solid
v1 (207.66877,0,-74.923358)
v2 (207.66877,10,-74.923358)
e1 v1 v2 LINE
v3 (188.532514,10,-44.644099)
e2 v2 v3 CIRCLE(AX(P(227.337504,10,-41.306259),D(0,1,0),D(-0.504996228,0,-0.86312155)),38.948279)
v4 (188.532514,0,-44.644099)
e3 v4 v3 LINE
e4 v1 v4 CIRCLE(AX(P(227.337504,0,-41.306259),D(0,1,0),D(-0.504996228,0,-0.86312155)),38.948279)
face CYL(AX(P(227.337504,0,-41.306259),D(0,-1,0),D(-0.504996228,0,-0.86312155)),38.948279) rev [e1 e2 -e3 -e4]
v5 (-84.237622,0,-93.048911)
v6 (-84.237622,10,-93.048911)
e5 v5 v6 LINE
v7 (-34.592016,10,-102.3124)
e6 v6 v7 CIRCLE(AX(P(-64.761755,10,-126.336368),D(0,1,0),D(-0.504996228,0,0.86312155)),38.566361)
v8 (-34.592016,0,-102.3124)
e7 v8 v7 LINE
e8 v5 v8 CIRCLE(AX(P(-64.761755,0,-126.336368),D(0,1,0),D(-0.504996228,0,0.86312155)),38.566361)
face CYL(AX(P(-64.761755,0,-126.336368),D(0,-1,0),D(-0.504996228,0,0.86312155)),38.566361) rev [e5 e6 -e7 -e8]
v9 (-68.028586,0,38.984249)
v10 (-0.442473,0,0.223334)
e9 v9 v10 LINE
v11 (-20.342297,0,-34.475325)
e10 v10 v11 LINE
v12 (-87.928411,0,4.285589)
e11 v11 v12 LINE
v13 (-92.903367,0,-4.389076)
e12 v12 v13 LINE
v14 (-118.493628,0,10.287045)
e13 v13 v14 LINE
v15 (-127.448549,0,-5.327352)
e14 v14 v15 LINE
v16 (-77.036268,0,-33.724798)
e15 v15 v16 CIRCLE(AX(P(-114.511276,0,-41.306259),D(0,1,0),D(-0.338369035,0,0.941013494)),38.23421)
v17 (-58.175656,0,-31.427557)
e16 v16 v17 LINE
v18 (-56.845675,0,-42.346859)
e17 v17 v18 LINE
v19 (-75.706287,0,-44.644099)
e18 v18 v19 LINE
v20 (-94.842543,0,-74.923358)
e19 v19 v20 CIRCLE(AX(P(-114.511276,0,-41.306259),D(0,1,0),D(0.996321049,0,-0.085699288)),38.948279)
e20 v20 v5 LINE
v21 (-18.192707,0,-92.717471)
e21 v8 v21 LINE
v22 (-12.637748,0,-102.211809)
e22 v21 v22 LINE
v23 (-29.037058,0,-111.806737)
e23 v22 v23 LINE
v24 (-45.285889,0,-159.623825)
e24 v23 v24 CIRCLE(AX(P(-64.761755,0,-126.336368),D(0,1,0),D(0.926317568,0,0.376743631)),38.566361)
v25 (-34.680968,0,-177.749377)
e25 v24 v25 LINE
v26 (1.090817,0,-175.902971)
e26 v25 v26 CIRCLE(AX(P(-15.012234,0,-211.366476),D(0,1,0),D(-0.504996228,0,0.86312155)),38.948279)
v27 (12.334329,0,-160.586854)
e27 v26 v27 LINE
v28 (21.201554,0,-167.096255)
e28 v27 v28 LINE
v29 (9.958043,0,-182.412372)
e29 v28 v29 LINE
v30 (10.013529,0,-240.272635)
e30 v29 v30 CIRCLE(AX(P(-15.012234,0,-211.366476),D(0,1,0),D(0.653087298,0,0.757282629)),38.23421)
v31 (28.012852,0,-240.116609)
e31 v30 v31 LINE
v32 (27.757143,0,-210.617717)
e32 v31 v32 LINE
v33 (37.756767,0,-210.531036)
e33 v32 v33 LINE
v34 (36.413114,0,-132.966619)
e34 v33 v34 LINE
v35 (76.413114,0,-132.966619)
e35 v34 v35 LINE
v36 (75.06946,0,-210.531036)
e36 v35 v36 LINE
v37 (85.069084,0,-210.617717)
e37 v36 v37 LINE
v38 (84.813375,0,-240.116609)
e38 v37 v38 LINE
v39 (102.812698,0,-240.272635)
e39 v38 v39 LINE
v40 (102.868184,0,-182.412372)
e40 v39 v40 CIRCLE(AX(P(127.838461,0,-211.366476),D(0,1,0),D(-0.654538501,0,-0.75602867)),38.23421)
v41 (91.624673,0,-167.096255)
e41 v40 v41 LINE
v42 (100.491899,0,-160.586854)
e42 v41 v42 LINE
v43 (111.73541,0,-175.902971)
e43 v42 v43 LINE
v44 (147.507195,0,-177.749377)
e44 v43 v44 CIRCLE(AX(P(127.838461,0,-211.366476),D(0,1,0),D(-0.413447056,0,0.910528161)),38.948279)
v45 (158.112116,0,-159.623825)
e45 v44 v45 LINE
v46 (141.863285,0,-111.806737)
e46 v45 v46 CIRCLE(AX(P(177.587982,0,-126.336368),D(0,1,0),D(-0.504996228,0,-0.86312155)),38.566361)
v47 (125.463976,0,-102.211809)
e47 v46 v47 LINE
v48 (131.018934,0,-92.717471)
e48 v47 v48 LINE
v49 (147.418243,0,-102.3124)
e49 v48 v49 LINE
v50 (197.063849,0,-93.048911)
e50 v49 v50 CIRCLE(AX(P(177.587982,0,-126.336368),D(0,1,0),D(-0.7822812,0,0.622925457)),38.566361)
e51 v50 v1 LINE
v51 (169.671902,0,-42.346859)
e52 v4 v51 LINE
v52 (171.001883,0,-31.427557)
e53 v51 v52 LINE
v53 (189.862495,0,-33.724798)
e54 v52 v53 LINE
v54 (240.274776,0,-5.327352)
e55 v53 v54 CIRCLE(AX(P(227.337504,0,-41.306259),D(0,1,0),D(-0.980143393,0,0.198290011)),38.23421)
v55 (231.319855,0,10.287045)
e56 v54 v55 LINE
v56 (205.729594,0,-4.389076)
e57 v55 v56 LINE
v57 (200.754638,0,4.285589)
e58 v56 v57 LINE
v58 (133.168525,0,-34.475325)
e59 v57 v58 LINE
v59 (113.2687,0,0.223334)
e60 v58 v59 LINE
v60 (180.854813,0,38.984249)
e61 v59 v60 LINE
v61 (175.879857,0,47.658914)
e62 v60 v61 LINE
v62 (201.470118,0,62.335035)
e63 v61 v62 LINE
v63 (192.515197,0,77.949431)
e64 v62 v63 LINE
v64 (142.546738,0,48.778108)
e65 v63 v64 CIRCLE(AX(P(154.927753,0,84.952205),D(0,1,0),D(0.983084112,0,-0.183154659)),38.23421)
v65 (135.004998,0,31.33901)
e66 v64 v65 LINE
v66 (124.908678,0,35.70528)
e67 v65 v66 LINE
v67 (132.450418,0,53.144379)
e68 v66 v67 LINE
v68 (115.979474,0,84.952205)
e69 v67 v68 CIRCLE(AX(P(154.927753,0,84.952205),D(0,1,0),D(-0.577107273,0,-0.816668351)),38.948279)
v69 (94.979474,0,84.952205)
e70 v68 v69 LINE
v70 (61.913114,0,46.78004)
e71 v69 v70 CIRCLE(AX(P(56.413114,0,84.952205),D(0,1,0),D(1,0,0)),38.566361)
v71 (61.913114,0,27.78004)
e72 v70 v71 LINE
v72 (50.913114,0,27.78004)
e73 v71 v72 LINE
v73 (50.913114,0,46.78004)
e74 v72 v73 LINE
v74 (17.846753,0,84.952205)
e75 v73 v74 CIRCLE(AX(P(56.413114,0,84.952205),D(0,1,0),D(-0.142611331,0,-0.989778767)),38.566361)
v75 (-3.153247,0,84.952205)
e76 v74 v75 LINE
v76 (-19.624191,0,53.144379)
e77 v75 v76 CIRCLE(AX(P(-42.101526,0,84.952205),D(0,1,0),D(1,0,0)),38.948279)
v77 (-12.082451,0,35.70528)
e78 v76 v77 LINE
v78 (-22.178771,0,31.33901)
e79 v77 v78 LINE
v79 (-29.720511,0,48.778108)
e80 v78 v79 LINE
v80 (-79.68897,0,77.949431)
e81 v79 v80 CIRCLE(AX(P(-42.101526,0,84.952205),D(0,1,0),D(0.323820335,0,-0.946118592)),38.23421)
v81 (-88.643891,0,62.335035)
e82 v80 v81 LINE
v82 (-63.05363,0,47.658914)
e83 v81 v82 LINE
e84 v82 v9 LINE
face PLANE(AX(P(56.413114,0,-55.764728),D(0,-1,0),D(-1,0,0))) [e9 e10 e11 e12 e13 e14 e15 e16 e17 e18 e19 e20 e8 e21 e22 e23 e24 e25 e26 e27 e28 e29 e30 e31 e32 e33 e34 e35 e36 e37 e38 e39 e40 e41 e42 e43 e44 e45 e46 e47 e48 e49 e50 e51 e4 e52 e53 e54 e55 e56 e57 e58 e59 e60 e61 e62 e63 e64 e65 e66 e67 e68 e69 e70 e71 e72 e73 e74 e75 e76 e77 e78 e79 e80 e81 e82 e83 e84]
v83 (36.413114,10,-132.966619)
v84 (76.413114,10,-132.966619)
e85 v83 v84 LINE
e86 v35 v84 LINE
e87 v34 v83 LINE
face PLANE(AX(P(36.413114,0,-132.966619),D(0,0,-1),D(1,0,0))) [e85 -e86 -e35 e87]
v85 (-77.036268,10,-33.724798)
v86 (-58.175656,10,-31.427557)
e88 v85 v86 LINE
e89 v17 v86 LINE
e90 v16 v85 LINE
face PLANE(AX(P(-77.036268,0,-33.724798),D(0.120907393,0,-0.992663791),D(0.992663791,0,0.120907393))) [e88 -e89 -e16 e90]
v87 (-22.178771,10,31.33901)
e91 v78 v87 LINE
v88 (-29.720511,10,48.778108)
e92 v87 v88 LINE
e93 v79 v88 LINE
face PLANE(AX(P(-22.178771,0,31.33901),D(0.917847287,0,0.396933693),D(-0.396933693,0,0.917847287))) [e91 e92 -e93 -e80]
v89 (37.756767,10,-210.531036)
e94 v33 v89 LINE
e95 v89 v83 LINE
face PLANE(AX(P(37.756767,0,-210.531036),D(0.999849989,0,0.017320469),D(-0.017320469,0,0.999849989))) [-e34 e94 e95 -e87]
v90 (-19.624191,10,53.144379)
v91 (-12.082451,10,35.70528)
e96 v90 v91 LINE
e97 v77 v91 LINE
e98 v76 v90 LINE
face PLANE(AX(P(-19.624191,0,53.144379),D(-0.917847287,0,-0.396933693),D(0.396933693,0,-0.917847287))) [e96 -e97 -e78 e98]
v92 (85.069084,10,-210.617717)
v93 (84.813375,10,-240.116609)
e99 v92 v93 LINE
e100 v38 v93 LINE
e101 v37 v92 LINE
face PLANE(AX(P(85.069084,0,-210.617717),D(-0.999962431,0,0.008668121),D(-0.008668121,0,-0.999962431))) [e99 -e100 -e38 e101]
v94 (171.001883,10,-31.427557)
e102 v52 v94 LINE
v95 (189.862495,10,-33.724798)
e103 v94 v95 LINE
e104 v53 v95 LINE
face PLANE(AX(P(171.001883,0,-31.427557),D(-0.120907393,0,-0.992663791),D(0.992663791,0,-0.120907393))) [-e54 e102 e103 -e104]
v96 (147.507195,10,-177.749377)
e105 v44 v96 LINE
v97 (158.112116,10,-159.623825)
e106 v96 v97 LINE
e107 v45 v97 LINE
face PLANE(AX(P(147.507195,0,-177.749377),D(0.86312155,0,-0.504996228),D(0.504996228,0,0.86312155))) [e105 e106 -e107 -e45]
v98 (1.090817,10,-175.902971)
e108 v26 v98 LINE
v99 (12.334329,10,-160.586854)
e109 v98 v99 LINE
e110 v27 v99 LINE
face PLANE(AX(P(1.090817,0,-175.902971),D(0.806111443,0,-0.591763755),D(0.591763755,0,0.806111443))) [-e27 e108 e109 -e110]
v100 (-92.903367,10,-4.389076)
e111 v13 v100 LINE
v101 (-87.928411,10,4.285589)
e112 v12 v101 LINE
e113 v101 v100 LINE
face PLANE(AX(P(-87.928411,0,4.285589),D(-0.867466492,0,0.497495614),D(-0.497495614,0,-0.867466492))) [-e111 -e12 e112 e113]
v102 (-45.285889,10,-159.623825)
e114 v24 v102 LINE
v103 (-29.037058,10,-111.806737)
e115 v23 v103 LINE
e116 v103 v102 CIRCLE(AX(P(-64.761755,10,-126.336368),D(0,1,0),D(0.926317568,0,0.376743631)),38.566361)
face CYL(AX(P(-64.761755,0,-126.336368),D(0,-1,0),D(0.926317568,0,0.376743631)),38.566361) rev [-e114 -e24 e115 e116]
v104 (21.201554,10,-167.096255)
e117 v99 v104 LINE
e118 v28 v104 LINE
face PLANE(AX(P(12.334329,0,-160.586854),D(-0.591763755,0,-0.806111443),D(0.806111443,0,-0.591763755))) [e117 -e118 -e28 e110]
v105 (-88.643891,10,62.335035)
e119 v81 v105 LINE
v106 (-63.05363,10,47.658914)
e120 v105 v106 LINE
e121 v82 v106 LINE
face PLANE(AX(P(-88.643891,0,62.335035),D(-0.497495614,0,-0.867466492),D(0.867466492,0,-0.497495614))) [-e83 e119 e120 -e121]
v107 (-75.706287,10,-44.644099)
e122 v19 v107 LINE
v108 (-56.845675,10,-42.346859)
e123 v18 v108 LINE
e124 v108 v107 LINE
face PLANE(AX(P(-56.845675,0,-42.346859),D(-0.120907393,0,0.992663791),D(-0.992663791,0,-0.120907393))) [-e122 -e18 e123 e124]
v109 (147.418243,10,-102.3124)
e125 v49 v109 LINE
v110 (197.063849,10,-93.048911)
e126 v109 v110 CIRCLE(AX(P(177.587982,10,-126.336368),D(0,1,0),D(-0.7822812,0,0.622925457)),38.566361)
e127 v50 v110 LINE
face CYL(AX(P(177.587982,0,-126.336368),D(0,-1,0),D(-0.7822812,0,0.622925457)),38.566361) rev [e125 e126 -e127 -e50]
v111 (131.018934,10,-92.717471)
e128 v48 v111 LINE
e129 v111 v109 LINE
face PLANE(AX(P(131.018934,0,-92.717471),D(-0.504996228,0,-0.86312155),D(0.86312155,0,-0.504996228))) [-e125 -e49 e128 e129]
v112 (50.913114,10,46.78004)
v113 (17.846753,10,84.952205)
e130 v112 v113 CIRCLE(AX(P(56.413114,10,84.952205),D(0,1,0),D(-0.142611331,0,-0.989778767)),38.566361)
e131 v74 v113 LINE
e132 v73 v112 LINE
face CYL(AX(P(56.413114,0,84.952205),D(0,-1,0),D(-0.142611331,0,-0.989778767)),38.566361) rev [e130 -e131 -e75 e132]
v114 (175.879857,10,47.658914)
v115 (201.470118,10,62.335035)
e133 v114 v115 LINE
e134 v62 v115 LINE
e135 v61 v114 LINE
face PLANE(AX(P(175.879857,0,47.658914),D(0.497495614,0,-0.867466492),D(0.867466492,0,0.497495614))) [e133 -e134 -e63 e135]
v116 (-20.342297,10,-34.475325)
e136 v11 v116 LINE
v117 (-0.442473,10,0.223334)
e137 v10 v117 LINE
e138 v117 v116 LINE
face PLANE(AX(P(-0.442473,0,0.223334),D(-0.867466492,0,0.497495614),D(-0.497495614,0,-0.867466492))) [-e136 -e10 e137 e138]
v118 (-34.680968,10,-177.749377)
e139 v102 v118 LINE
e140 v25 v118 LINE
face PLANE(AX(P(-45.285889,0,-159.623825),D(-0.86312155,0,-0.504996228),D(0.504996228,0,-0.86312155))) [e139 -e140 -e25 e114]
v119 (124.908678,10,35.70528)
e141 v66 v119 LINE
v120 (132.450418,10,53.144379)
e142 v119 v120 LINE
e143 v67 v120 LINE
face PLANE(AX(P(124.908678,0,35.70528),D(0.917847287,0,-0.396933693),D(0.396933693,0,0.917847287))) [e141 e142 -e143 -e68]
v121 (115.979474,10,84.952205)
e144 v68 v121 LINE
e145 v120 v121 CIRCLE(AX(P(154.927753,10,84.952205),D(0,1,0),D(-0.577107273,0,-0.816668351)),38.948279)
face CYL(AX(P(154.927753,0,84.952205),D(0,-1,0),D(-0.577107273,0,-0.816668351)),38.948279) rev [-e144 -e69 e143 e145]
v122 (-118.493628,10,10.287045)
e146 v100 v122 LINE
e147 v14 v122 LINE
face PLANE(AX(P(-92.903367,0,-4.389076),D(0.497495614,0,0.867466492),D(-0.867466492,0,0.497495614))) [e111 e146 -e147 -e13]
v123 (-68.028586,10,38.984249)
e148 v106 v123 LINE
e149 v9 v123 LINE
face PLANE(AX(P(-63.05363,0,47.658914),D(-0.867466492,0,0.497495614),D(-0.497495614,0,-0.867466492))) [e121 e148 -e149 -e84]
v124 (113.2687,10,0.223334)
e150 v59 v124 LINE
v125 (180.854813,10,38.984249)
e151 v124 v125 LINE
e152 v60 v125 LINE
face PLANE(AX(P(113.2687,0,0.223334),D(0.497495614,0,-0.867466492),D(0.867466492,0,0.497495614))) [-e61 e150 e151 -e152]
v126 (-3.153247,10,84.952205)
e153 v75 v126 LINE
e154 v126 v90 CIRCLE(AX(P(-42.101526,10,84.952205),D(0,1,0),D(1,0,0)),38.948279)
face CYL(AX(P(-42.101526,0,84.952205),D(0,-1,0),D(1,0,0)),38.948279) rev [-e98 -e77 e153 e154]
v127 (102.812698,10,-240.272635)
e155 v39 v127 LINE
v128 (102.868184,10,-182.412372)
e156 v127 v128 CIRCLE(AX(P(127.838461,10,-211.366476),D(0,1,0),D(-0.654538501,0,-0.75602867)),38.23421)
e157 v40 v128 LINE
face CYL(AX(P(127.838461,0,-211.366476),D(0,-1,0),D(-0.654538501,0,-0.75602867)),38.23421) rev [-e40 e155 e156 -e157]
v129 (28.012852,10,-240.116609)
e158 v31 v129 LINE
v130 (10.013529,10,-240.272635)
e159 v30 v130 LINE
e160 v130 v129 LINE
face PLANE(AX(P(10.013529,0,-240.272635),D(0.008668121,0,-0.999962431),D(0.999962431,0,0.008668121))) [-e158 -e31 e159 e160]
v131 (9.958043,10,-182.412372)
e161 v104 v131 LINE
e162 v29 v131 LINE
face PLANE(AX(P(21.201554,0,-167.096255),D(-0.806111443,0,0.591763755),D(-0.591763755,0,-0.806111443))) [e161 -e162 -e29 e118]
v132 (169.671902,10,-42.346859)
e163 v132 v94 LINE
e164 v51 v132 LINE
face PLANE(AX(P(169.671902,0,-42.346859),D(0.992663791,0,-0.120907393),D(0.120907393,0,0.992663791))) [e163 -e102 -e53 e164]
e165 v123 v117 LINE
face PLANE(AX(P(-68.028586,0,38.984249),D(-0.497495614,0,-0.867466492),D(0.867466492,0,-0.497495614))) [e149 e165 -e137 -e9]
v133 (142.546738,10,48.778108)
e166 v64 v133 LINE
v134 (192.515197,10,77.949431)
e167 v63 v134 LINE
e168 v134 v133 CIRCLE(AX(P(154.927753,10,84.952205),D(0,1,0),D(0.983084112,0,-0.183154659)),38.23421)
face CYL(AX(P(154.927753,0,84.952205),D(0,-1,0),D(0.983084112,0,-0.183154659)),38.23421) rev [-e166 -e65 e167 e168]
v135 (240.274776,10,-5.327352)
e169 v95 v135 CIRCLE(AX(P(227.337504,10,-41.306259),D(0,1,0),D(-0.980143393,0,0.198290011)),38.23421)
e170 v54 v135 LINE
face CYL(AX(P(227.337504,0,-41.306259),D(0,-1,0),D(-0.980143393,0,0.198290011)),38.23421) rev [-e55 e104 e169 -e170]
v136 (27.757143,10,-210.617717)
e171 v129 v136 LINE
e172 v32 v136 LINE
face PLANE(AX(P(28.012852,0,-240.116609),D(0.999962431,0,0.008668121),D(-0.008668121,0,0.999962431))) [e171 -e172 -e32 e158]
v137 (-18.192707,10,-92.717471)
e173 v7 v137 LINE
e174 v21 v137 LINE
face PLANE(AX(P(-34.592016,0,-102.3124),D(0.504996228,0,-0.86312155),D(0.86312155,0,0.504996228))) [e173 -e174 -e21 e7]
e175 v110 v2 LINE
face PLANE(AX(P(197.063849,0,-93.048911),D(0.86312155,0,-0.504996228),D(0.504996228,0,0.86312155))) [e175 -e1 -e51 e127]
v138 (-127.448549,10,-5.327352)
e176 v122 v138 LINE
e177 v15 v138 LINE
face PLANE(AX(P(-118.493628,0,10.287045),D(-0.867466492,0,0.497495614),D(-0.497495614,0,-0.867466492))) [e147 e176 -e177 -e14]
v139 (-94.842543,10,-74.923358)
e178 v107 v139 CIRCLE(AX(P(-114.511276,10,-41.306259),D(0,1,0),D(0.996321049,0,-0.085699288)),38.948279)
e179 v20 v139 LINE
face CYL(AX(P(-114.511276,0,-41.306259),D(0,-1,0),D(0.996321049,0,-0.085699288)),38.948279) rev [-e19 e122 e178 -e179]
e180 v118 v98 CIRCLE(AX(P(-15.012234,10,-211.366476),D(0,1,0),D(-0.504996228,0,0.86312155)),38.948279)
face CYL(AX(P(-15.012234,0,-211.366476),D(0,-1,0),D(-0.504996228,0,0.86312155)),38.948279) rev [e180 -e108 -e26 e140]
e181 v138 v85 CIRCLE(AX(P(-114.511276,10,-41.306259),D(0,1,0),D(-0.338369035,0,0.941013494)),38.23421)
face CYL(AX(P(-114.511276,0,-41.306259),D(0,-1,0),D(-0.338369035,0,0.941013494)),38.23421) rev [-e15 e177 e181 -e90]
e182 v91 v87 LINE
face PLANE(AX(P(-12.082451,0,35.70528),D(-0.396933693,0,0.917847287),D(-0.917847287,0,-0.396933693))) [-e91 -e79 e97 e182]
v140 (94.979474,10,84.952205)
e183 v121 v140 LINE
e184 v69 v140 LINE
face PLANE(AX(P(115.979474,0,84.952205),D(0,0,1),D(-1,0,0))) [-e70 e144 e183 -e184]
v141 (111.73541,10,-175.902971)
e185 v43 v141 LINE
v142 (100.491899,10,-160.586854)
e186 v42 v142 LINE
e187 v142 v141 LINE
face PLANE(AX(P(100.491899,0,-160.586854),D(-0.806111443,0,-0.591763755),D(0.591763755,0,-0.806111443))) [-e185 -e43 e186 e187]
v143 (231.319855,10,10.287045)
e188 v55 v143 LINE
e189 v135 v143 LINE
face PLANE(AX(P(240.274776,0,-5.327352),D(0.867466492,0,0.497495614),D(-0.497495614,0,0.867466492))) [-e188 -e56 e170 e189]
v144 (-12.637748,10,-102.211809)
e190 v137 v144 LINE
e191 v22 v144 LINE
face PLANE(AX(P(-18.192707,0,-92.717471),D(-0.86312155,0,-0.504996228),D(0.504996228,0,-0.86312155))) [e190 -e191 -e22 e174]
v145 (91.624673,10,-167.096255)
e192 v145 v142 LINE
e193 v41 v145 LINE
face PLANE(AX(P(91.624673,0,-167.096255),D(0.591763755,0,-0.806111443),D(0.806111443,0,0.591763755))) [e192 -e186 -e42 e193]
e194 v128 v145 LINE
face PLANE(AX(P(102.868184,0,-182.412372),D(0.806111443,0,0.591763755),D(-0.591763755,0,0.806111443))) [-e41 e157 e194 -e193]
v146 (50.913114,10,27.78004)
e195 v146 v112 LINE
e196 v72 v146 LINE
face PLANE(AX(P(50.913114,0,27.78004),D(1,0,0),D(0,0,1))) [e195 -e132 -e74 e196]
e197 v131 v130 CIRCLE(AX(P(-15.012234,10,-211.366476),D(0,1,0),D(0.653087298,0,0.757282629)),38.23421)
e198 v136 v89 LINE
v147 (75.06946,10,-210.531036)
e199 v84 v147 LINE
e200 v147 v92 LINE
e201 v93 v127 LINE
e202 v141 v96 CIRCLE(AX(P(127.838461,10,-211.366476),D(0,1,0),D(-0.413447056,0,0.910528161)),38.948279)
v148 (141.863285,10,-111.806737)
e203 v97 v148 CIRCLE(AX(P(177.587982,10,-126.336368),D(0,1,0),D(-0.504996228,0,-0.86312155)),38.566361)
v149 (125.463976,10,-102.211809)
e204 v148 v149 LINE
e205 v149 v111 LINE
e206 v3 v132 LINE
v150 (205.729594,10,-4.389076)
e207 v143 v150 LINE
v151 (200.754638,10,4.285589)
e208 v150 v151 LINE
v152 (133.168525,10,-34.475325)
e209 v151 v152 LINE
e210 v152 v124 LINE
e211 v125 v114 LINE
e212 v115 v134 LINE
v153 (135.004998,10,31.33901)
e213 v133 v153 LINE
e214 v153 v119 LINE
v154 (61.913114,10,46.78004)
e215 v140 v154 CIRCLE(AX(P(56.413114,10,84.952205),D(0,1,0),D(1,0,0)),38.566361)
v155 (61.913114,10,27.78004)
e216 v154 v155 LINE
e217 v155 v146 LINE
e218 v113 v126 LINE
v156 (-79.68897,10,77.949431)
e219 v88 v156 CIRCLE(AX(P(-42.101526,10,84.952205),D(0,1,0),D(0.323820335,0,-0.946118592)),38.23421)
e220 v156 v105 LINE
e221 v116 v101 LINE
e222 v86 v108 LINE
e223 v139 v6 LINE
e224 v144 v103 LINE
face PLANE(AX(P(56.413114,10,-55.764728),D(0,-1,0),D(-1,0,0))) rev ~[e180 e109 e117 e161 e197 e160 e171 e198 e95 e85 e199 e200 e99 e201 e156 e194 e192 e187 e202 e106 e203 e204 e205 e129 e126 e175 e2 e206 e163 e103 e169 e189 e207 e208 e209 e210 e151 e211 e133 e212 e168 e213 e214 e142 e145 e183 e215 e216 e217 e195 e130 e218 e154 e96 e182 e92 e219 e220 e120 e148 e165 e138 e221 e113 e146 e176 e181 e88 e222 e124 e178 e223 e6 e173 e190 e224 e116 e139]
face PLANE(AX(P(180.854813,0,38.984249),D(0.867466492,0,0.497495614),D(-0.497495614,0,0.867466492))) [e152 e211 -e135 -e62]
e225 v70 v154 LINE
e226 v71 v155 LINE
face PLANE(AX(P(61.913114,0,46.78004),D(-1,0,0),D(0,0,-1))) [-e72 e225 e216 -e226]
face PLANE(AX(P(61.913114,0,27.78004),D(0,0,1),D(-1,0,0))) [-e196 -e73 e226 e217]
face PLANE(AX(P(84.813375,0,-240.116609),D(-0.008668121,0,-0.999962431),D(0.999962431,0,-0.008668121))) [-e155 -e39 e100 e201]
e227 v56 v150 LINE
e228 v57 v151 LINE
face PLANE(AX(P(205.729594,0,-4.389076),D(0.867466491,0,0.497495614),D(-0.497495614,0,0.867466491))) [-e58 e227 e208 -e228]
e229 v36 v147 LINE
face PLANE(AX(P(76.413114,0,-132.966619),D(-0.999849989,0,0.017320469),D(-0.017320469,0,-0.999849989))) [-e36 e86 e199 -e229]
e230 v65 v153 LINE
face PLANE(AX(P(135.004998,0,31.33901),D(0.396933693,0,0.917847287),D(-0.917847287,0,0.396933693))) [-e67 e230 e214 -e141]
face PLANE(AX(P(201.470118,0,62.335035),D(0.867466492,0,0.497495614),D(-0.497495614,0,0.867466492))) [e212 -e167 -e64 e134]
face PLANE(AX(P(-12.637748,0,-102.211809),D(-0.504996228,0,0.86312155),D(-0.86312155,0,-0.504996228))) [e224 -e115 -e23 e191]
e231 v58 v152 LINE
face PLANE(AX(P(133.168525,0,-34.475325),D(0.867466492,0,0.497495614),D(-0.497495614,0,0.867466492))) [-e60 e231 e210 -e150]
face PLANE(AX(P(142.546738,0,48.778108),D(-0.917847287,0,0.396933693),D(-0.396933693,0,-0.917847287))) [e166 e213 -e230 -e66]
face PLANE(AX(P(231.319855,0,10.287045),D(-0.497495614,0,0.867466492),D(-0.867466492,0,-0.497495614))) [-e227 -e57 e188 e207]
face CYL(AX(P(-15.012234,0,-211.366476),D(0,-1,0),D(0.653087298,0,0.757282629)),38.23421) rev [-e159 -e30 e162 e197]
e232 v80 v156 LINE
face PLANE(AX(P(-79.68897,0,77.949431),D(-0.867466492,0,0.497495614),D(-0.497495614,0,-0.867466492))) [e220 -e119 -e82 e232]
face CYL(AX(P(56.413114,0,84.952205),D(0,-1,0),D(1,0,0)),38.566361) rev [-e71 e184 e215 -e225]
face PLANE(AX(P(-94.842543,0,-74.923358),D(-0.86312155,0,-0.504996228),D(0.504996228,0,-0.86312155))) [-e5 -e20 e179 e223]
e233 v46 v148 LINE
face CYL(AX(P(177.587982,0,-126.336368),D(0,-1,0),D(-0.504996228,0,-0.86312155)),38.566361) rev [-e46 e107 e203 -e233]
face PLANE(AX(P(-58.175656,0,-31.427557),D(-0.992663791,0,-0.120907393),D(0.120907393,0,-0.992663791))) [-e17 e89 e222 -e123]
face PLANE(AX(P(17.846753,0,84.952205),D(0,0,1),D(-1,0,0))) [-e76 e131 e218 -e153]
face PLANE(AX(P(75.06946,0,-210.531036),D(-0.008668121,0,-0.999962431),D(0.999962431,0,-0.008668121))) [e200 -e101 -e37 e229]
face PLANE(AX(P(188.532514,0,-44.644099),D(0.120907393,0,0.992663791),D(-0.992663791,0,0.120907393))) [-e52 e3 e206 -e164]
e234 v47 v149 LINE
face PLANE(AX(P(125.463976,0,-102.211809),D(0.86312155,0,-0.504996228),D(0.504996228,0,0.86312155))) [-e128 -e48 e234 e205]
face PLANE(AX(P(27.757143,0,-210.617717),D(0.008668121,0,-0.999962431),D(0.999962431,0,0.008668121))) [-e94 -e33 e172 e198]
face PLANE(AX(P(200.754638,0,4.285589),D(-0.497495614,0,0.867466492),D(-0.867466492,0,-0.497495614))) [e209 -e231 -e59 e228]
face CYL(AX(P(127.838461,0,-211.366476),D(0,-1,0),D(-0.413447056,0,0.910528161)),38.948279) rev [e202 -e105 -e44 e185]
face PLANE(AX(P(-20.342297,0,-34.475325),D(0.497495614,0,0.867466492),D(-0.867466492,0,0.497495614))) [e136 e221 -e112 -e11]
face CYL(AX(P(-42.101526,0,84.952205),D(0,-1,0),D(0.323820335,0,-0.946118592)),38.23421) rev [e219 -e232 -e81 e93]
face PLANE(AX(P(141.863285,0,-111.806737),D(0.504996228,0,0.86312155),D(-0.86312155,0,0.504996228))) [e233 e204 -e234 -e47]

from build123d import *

# Parameters (mm, degrees)
BOSS_EXTRU_1_DEPTH = 10


with BuildPart() as part:
    # Esquisse2 → Boss.-Extru.1 (new body)
    with BuildSketch(Plane(origin=(0, 0, 0), x_dir=(1, 0, 0), z_dir=(0, 1, 0))):
        with BuildLine():
            Line((36.413113552, 132.966619465), (76.413113552, 132.966619465))
            Line((76.413113552, 132.966619465), (75.069459937, 210.531035708))
            Line((75.069459937, 210.531035708), (85.069084249, 210.617716914))
            Line((85.069084249, 210.617716914), (84.813374692, 240.116608632))
            Line((84.813374692, 240.116608632), (102.812698453, 240.272634802))
            ThreePointArc((102.812698453, 240.272634802), (89.604268477, 211.329810699), (102.868184053, 182.412372481))
            Line((102.868184053, 182.412372481), (91.624672702, 167.096255072))
            Line((91.624672702, 167.096255072), (100.49189857, 160.586853763))
            Line((100.49189857, 160.586853763), (111.735409922, 175.902971172))
            ThreePointArc((111.735409922, 175.902971172), (129.846153012, 172.469977356), (147.507194899, 177.749377064))
            Line((147.507194899, 177.749377064), (158.112115685, 159.623824517))
            ThreePointArc((158.112115685, 159.623824517), (141.072313982, 138.74483792), (141.863284971, 111.806736869))
            Line((141.863284971, 111.806736869), (125.463975524, 102.211808539))
            Line((125.463975524, 102.211808539), (131.01893403, 92.717471491))
            Line((131.01893403, 92.717471491), (147.418243478, 102.312399821))
            ThreePointArc((147.418243478, 102.312399821), (170.51388989, 88.424345956), (197.063848919, 93.048910681))
            Line((197.063848919, 93.048910681), (207.668769705, 74.923358135))
            ThreePointArc((207.668769705, 74.923358135), (194.413310744, 62.114093146), (188.532513668, 44.644099226))
            Line((188.532513668, 44.644099226), (169.671901636, 42.346858754))
            Line((169.671901636, 42.346858754), (171.001882962, 31.427557051))
            Line((171.001882962, 31.427557051), (189.862494994, 33.724797523))
            ThreePointArc((189.862494994, 33.724797523), (208.572406926, 7.993709614), (240.274776322, 5.32735176))
            Line((240.274776322, 5.32735176), (231.319855268, -10.287045088))
            Line((231.319855268, -10.287045088), (205.729593768, 4.389075528))
            Line((205.729593768, 4.389075528), (200.754637626, -4.285589387))
            Line((200.754637626, -4.285589387), (133.168524557, 34.475325478))
            Line((133.168524557, 34.475325478), (113.268699993, -0.223334184))
            Line((113.268699993, -0.223334184), (180.854813062, -38.984249048))
            Line((180.854813062, -38.984249048), (175.879856921, -47.658913964))
            Line((175.879856921, -47.658913964), (201.470118422, -62.33503458))
            Line((201.470118422, -62.33503458), (192.515197368, -77.949431428))
            ThreePointArc((192.515197368, -77.949431428), (174.204229484, -51.93293388), (142.546738059, -48.778108028))
            Line((142.546738059, -48.778108028), (135.004997884, -31.339009567))
            Line((135.004997884, -31.339009567), (124.908677722, -35.705280195))
            Line((124.908677722, -35.705280195), (132.450417897, -53.144378656))
            ThreePointArc((132.450417897, -53.144378656), (120.34147001, -67.042502374), (115.979474134, -84.952205157))
            Line((115.979474134, -84.952205157), (94.979474134, -84.952205157))
            ThreePointArc((94.979474134, -84.952205157), (85.563406447, -59.700975629), (61.913113552, -46.780040317))
            Line((61.913113552, -46.780040317), (61.913113552, -27.780040317))
            Line((61.913113552, -27.780040317), (50.913113552, -27.780040317))
            Line((50.913113552, -27.780040317), (50.913113552, -46.780040317))
            ThreePointArc((50.913113552, -46.780040317), (27.262820657, -59.700975629), (17.84675297, -84.952205157))
            Line((17.84675297, -84.952205157), (-3.15324703, -84.952205157))
            ThreePointArc((-3.15324703, -84.952205157), (-7.515242906, -67.042502374), (-19.624190793, -53.144378656))
            Line((-19.624190793, -53.144378656), (-12.082450618, -35.705280195))
            Line((-12.082450618, -35.705280195), (-22.17877078, -31.339009567))
            Line((-22.17877078, -31.339009567), (-29.720510955, -48.778108028))
            ThreePointArc((-29.720510955, -48.778108028), (-61.37800238, -51.93293388), (-79.688970264, -77.949431428))
            Line((-79.688970264, -77.949431428), (-88.643891318, -62.33503458))
            Line((-88.643891318, -62.33503458), (-63.053629817, -47.658913964))
            Line((-63.053629817, -47.658913964), (-68.028585958, -38.984249048))
            Line((-68.028585958, -38.984249048), (-0.442472889, -0.223334184))
            Line((-0.442472889, -0.223334184), (-20.342297454, 34.475325478))
            Line((-20.342297454, 34.475325478), (-87.928410523, -4.285589387))
            Line((-87.928410523, -4.285589387), (-92.903366664, 4.389075528))
            Line((-92.903366664, 4.389075528), (-118.493628164, -10.287045088))
            Line((-118.493628164, -10.287045088), (-127.448549218, 5.32735176))
            ThreePointArc((-127.448549218, 5.32735176), (-95.746179823, 7.993709614), (-77.03626789, 33.724797523))
            Line((-77.03626789, 33.724797523), (-58.175655858, 31.427557051))
            Line((-58.175655858, 31.427557051), (-56.845674532, 42.346858754))
            Line((-56.845674532, 42.346858754), (-75.706286564, 44.644099226))
            ThreePointArc((-75.706286564, 44.644099226), (-81.58708364, 62.114093146), (-94.842542601, 74.923358135))
            Line((-94.842542601, 74.923358135), (-84.237621815, 93.048910681))
            ThreePointArc((-84.237621815, 93.048910681), (-57.687662786, 88.424345956), (-34.592016374, 102.312399821))
            Line((-34.592016374, 102.312399821), (-18.192706927, 92.717471491))
            Line((-18.192706927, 92.717471491), (-12.63774842, 102.211808539))
            Line((-12.63774842, 102.211808539), (-29.037057867, 111.806736869))
            ThreePointArc((-29.037057867, 111.806736869), (-28.246086878, 138.74483792), (-45.285888581, 159.623824517))
            Line((-45.285888581, 159.623824517), (-34.680967795, 177.749377064))
            ThreePointArc((-34.680967795, 177.749377064), (-17.019925908, 172.469977356), (1.090817182, 175.902971172))
            Line((1.090817182, 175.902971172), (12.334328534, 160.586853763))
            Line((12.334328534, 160.586853763), (21.201554402, 167.096255072))
            Line((21.201554402, 167.096255072), (9.95804305, 182.412372481))
            ThreePointArc((9.95804305, 182.412372481), (23.221958626, 211.329810699), (10.013528651, 240.272634802))
            Line((10.013528651, 240.272634802), (28.012852411, 240.116608632))
            Line((28.012852411, 240.116608632), (27.757142855, 210.617716914))
            Line((27.757142855, 210.617716914), (37.756767167, 210.531035708))
            Line((37.756767167, 210.531035708), (36.413113552, 132.966619465))
        make_face()
    extrude(amount=BOSS_EXTRU_1_DEPTH)


solid = part.part
